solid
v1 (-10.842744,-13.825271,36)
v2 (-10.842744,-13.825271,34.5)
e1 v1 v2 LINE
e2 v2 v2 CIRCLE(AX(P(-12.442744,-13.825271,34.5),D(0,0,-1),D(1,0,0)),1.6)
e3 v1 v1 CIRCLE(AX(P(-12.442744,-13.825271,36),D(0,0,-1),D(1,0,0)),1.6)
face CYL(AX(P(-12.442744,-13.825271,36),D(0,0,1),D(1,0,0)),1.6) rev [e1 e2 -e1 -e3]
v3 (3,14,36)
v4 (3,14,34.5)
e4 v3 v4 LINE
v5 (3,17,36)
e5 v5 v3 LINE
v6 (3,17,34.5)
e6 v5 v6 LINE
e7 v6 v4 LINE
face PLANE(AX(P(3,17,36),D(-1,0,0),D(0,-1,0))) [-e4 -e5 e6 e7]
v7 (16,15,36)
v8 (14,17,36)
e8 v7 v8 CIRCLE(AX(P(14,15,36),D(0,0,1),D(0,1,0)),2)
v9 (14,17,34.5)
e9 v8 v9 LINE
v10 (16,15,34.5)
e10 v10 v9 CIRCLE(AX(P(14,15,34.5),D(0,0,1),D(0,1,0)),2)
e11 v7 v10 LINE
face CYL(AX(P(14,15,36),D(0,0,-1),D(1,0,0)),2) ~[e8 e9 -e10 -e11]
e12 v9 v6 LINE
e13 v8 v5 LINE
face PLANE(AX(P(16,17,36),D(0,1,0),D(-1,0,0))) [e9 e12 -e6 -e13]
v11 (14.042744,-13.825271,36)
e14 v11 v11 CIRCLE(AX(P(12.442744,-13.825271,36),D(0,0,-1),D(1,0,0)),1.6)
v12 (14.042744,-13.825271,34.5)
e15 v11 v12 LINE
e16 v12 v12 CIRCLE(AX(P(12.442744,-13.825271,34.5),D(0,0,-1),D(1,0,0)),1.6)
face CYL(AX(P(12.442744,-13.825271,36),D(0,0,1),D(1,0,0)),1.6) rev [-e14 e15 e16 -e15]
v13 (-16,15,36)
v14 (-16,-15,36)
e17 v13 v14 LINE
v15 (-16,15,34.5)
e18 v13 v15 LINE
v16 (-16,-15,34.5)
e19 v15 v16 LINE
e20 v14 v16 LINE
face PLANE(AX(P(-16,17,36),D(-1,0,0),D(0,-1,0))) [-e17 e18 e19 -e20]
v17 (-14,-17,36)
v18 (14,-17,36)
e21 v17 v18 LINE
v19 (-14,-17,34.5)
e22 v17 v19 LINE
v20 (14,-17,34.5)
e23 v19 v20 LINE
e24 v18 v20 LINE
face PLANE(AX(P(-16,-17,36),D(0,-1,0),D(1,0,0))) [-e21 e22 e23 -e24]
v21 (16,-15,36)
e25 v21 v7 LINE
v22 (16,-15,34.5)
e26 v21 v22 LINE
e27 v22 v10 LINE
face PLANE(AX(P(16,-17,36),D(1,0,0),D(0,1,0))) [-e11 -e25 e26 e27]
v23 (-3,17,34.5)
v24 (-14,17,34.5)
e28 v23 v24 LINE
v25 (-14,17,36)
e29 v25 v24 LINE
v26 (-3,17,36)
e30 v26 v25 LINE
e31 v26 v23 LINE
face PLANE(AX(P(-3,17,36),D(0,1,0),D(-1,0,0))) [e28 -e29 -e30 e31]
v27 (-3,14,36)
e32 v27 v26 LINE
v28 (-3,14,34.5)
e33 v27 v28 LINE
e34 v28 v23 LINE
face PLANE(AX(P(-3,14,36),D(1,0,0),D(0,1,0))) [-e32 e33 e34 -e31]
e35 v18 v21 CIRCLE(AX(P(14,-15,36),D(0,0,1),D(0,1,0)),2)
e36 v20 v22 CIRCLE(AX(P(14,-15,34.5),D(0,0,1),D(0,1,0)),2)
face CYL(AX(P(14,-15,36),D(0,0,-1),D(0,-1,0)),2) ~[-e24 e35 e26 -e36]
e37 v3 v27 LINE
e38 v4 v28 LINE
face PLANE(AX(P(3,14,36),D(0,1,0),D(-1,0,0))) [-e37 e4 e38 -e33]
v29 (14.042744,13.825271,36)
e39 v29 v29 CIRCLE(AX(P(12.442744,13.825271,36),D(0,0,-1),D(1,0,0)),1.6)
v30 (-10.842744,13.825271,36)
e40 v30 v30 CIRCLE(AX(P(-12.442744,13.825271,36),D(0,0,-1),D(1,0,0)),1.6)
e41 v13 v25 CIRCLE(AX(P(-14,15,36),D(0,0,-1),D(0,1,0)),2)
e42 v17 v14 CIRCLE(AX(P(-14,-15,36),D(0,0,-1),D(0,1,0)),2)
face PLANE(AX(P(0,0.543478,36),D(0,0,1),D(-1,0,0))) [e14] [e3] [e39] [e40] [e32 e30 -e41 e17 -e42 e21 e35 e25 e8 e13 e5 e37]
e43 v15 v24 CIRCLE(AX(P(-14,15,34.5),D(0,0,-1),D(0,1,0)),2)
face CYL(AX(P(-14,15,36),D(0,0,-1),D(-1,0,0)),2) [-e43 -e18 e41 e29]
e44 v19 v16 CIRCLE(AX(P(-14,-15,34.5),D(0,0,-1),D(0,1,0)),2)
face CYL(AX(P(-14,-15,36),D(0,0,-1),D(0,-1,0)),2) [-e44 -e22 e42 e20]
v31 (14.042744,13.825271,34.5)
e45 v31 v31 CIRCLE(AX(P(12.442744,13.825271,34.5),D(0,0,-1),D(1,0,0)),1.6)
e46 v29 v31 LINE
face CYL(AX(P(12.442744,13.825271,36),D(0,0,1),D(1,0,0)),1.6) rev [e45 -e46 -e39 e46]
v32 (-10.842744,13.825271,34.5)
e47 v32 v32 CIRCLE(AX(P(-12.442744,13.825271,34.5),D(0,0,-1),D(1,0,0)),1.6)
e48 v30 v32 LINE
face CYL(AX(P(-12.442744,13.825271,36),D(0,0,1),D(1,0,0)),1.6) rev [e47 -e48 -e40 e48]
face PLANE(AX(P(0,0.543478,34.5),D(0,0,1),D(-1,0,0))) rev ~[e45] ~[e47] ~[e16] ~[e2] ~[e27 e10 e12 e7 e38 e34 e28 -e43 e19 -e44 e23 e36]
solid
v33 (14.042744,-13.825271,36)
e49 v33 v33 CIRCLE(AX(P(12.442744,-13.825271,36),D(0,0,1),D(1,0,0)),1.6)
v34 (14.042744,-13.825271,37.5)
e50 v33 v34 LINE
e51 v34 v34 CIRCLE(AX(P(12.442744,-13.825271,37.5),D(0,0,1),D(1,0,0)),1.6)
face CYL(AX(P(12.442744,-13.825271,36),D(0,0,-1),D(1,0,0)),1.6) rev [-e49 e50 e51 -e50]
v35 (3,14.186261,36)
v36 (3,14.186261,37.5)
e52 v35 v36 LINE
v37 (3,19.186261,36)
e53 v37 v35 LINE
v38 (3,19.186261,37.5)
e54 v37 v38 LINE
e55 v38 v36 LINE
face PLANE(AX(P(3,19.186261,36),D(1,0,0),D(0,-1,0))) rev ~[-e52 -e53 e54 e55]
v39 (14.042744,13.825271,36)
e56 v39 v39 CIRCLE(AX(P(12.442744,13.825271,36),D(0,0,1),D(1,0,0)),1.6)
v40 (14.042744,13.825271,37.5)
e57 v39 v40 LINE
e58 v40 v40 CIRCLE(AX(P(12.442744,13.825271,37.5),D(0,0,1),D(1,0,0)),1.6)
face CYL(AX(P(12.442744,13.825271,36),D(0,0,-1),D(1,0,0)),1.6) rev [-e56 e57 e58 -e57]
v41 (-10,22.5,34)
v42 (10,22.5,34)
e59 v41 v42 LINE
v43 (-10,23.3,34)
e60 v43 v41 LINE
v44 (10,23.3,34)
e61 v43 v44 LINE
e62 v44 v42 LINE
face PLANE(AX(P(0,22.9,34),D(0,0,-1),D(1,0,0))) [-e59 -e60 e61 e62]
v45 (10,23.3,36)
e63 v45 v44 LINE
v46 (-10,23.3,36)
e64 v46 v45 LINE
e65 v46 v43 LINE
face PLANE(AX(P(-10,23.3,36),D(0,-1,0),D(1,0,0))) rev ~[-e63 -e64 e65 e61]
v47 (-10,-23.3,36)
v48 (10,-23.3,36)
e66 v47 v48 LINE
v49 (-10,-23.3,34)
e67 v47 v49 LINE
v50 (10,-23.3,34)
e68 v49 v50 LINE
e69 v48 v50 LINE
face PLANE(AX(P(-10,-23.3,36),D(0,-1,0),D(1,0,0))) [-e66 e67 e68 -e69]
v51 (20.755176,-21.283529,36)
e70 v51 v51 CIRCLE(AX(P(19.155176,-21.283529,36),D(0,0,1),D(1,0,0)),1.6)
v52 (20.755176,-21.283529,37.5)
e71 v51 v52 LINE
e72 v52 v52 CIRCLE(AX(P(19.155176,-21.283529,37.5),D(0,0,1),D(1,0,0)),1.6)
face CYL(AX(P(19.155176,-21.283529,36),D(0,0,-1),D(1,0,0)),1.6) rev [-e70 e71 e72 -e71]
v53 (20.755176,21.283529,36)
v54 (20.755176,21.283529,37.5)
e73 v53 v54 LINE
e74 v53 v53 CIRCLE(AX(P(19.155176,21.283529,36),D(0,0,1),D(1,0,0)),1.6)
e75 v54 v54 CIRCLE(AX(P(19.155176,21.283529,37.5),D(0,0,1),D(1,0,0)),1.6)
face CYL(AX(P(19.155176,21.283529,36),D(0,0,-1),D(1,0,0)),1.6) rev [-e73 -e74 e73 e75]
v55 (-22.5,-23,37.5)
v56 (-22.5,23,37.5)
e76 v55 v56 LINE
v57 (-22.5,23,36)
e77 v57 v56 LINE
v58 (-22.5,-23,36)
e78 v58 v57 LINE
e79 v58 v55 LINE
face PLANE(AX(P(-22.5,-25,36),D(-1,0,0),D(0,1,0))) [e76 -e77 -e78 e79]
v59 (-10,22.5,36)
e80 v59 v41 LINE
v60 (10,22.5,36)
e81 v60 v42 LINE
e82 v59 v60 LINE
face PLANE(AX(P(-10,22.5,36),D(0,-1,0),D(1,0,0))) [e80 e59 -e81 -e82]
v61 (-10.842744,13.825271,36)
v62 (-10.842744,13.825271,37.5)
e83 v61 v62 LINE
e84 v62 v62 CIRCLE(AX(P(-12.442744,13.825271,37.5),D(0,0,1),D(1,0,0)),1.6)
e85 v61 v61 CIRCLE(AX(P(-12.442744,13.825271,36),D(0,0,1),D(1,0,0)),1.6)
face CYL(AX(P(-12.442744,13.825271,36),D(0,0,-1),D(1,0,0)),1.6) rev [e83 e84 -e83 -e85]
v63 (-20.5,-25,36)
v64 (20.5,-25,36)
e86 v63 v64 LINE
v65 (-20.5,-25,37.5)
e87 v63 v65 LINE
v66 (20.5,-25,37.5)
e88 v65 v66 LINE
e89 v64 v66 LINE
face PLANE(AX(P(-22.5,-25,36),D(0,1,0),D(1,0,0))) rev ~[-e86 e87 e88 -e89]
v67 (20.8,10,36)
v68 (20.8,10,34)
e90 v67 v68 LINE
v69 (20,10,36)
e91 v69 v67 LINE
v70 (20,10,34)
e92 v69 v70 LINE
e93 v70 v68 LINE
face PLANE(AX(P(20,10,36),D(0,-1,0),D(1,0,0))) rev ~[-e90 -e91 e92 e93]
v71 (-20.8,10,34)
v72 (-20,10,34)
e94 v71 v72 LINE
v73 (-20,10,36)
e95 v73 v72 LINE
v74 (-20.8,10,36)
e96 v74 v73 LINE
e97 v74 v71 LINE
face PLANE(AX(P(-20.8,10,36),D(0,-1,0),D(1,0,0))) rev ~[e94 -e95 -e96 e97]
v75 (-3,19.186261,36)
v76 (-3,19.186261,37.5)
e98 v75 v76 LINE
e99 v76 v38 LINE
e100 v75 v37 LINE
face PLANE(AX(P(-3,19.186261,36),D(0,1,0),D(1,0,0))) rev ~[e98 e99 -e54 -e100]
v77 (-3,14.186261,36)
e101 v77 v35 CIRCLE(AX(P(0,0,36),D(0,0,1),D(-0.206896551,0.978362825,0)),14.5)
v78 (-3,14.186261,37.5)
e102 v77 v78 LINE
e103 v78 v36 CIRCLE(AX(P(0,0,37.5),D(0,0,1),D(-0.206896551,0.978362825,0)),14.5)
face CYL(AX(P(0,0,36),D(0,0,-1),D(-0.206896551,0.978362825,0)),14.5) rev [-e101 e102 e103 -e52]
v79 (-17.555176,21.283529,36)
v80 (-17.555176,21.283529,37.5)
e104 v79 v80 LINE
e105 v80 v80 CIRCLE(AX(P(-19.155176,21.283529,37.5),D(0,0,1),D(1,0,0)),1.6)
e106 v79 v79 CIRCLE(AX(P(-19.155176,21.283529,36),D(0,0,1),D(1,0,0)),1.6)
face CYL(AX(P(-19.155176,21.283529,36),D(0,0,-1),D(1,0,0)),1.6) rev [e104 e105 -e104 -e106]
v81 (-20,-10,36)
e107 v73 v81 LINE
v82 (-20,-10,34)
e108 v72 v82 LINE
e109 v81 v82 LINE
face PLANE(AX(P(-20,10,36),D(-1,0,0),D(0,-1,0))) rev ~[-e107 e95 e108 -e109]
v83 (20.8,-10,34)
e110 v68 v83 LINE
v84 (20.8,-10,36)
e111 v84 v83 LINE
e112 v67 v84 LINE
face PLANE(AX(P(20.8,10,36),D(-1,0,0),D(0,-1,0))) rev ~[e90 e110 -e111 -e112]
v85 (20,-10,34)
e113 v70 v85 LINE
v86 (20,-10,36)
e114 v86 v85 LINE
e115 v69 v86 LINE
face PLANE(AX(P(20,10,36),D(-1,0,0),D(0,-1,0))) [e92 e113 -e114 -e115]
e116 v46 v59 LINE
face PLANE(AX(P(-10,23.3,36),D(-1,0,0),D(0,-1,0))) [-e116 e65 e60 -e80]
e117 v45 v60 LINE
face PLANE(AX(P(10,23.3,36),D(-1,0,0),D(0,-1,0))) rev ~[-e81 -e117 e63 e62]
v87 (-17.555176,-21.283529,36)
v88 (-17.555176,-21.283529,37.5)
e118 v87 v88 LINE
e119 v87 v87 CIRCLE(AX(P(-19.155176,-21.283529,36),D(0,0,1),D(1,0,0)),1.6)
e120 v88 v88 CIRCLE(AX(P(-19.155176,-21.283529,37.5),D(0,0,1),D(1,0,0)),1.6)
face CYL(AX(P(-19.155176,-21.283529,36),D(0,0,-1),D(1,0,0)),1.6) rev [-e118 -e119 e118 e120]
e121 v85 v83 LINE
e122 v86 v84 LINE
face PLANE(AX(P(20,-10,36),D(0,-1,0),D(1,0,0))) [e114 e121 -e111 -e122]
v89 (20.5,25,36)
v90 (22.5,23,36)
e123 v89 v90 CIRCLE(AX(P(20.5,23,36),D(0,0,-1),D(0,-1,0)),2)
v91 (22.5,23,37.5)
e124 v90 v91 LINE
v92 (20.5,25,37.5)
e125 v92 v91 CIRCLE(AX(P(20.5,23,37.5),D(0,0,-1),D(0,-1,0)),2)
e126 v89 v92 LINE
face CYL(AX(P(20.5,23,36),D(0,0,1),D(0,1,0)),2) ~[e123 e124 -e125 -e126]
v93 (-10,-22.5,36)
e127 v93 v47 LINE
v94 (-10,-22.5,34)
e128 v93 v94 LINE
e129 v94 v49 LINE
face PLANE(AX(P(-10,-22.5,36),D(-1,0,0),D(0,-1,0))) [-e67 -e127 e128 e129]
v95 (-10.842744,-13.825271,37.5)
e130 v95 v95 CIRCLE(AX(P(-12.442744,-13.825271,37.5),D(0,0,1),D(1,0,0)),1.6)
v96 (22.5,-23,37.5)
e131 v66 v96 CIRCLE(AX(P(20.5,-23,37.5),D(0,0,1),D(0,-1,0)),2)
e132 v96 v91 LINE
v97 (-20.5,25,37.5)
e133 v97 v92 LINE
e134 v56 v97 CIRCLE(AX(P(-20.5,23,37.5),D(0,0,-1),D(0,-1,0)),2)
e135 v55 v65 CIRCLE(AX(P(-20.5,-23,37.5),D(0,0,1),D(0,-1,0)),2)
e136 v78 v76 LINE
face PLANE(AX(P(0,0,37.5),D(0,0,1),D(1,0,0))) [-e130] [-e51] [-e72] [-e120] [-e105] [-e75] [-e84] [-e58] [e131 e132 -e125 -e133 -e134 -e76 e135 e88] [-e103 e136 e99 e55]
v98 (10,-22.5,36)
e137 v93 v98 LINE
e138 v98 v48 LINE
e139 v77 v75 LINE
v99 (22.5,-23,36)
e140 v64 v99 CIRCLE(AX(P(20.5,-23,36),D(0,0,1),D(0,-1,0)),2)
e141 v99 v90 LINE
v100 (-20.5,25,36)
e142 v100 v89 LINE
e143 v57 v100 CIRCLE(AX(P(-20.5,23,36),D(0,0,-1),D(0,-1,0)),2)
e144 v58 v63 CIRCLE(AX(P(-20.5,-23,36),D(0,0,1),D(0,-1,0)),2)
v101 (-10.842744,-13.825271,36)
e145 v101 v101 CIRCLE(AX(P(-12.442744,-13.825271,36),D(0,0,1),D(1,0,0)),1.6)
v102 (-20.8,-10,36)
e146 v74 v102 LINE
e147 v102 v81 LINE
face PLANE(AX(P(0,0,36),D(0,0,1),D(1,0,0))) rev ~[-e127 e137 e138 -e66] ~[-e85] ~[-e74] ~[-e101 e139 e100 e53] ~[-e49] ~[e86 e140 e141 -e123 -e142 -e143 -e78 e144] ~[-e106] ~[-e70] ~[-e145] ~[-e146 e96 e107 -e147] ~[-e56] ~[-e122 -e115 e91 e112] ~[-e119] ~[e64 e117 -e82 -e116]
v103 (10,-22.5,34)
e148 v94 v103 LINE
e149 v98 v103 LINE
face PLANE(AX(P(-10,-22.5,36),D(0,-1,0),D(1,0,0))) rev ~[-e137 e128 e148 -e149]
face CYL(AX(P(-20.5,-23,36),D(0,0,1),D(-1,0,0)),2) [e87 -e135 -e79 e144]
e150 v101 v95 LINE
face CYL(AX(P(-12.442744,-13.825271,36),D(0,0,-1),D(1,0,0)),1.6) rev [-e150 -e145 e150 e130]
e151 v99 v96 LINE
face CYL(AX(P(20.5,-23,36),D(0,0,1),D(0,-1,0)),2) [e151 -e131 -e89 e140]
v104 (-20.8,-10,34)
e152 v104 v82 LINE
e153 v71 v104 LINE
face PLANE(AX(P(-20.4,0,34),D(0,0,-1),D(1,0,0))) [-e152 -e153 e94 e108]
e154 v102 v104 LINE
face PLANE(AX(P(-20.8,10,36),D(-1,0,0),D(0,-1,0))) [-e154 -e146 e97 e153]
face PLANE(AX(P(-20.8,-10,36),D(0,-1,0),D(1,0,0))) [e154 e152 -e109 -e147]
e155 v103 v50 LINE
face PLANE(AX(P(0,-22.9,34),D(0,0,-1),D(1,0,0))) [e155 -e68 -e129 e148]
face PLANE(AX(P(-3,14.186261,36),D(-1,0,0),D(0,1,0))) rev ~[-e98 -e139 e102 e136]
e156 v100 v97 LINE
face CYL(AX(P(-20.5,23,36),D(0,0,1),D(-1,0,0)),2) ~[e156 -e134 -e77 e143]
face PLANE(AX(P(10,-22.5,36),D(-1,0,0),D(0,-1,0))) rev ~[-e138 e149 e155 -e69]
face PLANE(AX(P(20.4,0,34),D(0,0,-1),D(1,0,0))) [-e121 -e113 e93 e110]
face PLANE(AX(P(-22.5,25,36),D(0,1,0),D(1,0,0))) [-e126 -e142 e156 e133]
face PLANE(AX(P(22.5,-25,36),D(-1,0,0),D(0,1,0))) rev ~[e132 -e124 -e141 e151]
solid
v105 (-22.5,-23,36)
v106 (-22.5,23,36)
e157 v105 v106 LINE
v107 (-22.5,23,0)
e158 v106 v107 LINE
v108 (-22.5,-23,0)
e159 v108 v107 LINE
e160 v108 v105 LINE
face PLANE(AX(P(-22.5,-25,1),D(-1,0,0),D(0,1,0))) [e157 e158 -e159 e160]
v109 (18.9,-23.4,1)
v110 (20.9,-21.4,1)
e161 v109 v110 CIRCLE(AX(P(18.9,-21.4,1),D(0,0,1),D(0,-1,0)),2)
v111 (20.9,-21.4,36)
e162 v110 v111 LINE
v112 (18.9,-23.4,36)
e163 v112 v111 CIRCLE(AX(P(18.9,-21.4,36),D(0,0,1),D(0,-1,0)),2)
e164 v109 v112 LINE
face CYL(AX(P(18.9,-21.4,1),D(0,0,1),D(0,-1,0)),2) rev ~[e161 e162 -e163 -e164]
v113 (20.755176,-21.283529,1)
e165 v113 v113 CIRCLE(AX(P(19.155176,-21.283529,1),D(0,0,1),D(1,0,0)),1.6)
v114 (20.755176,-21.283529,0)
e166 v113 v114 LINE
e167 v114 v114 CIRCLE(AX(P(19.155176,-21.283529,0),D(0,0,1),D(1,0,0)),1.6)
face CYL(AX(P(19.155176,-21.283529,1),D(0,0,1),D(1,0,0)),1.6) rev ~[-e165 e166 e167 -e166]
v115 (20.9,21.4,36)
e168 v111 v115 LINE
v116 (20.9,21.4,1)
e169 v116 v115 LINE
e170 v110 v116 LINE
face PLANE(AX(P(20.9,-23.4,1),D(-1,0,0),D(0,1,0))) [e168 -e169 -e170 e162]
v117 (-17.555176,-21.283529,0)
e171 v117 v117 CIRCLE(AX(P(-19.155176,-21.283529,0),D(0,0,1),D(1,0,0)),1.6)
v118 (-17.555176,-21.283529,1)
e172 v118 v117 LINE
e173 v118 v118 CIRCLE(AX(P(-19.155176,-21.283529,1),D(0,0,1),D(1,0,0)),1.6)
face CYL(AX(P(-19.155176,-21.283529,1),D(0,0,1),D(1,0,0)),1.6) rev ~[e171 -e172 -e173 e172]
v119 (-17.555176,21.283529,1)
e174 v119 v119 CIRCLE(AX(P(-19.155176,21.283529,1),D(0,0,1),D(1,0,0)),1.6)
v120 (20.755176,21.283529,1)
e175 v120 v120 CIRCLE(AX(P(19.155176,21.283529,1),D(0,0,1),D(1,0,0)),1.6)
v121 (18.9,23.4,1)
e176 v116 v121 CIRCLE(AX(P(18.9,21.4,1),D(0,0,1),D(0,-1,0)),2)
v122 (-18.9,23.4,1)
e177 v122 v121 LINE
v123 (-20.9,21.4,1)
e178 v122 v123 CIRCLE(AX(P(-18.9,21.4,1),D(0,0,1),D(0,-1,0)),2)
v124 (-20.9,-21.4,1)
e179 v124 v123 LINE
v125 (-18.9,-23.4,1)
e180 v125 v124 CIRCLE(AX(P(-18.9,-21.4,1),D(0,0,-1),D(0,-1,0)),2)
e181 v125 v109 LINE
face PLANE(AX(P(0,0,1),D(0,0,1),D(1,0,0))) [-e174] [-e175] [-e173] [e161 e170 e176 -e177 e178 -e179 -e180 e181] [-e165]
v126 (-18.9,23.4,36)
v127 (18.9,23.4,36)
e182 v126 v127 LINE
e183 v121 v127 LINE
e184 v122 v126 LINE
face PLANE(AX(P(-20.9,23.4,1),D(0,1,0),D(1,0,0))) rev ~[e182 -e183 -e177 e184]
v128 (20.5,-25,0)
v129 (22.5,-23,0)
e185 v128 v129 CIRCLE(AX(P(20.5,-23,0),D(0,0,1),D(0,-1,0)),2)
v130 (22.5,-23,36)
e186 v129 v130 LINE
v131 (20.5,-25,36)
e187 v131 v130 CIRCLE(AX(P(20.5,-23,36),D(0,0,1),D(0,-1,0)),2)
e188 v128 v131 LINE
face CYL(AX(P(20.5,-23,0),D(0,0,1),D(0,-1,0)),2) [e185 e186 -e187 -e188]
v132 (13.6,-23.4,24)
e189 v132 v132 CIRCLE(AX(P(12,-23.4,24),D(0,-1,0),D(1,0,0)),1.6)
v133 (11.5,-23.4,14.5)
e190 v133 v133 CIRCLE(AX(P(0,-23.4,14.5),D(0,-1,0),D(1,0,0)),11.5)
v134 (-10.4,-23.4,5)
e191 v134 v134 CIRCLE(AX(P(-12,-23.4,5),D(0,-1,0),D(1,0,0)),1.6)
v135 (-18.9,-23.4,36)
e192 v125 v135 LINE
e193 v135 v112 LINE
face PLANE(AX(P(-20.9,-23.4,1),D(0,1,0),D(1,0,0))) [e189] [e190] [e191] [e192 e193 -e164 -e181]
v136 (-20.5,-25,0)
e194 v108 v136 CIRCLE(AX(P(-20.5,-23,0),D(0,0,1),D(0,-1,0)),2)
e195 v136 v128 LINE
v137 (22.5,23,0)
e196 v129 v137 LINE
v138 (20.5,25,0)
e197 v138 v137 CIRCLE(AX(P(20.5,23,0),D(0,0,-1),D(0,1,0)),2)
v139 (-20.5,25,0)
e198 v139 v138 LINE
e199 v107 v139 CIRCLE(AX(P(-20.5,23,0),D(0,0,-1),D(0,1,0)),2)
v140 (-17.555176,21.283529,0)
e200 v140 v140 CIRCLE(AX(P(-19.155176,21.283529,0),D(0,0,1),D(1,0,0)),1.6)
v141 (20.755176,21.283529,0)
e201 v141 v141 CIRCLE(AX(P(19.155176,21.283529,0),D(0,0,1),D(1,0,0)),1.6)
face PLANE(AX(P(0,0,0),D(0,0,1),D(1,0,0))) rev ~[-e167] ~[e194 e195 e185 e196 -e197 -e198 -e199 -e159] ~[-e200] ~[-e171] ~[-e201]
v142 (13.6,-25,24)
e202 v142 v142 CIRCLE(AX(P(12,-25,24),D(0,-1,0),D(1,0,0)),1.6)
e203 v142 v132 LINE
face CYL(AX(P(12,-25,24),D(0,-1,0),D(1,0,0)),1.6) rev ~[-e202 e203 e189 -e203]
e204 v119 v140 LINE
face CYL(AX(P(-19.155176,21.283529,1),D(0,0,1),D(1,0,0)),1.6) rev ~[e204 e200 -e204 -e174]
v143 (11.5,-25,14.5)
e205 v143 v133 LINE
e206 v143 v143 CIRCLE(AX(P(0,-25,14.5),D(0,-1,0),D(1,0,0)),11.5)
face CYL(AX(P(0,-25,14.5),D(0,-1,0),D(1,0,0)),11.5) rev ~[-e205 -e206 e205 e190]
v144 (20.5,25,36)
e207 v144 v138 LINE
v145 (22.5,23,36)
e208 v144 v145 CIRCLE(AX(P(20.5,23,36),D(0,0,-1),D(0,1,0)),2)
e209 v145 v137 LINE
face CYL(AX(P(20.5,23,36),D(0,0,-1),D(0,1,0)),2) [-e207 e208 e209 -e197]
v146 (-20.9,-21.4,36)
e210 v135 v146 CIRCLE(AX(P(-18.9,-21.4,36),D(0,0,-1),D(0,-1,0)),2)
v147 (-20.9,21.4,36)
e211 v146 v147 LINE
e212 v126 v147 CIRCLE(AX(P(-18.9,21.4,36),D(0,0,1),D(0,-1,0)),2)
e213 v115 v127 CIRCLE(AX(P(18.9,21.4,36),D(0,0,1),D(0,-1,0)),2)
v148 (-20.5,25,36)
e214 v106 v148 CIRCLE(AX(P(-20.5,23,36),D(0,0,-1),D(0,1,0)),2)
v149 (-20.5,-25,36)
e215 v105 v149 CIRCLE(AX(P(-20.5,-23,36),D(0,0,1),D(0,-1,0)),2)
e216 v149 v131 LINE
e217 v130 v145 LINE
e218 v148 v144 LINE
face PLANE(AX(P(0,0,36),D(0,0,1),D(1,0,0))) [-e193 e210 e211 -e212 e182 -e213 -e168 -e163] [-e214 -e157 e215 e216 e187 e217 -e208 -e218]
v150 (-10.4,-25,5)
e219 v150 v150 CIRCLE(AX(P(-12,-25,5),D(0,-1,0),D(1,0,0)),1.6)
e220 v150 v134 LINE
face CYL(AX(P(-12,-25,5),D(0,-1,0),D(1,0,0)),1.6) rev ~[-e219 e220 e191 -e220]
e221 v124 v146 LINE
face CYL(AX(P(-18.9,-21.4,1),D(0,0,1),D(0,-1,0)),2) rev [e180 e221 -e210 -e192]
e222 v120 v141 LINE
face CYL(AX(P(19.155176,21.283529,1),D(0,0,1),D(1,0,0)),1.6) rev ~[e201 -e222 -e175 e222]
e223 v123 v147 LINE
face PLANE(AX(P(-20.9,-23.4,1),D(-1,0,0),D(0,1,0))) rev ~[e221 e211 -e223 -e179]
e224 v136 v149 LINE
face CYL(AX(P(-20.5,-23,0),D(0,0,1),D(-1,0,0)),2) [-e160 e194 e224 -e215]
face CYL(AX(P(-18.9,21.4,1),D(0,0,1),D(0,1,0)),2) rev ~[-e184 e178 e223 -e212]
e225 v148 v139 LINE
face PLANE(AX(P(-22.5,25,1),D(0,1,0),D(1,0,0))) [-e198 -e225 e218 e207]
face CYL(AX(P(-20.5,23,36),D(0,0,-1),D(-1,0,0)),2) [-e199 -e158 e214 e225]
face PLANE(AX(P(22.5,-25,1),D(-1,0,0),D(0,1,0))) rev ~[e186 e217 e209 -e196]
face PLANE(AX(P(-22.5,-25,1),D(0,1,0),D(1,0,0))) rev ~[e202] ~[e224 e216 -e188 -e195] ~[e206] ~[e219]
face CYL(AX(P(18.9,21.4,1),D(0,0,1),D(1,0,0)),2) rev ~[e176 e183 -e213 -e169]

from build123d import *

# Parameters (mm, degrees)
SKETCH_W        = 45
SKETCH_H        = 50
PAD_DEPTH       = 1
SKETCH001_W     = 45
SKETCH001_H     = 50
SKETCH001_W_2   = 41.8
SKETCH001_H_2   = 46.8
PAD001_DEPTH    = 35
SKETCH002_R     = 11.5
SKETCH002_R_2   = 1.6
POCKET_DEPTH    = 5
SKETCH003_R     = 1.6
POCKET001_DEPTH = 5
FILLET_R        = 2
SKETCH004_W     = 45
SKETCH004_H     = 50
SKETCH004_R     = 1.6
PAD002_DEPTH    = 1.5
FILLET001_R     = 2
SKETCH007_W     = 20
SKETCH007_H     = 0.8
SKETCH007_W_2   = 0.8
SKETCH007_H_2   = 20
PAD004_DEPTH    = 2
SKETCH006_R     = 1.6
PAD003_DEPTH    = 1.5
FILLET002_R     = 2


with BuildPart() as body:
    # Sketch → Pad (new body)
    with BuildSketch(Plane.XY):
        Rectangle(SKETCH_W, SKETCH_H)
    extrude(amount=PAD_DEPTH)

    # Sketch001 (on Face6 of Pad) → Pad001 (join)
    with BuildSketch(Plane.XY.offset(1)):
        Rectangle(SKETCH001_W, SKETCH001_H)
        Rectangle(SKETCH001_W_2, SKETCH001_H_2, mode=Mode.SUBTRACT)
    extrude(amount=PAD001_DEPTH)

    # Sketch002 (on Face10 of Pad001) → Pocket (cut)
    with BuildSketch(Plane.XZ.offset(25)):
        with Locations((0, 14.5)):
            Circle(SKETCH002_R)
        with Locations((12, 24)):
            Circle(SKETCH002_R_2)
        with Locations((-12, 5)):
            Circle(SKETCH002_R_2)
    extrude(amount=-POCKET_DEPTH, mode=Mode.SUBTRACT)

    # Sketch003 (on Face18 of Pocket) → Pocket001 (cut)
    with BuildSketch(Plane.XY.offset(1)):
        with Locations((-19.155176, 21.283529)):
            Circle(SKETCH003_R)
        with Locations((19.155176, 21.283529)):
            Circle(SKETCH003_R)
        with Locations((-19.155176, -21.283529)):
            Circle(SKETCH003_R)
        with Locations((19.155176, -21.283529)):
            Circle(SKETCH003_R)
    extrude(amount=-POCKET001_DEPTH, mode=Mode.SUBTRACT)

    # Fillet
    fillet_edges = [body.edges().sort_by_distance(p)[0] for p in [
        (22.5, 25, 18.5),
        (22.5, -25, 18.5),
        (-22.5, 25, 18.5),
        (-22.5, -25, 18.5),
        (20.9, -23.4, 18.5),
        (20.9, 23.4, 18.5),
        (-20.9, -23.4, 18.5),
        (-20.9, 23.4, 18.5),
    ]]
    fillet(fillet_edges, radius=FILLET_R)


with BuildPart() as lid:
    # Sketch004 (on Face1 of CopyPocket001) → Pad002 (new body)
    with BuildSketch(Plane.XY.offset(36)):
        Rectangle(SKETCH004_W, SKETCH004_H)
        with Locations((-19.155176, 21.283529)):
            Circle(SKETCH004_R, mode=Mode.SUBTRACT)
        with Locations((19.155176, 21.283529)):
            Circle(SKETCH004_R, mode=Mode.SUBTRACT)
        with Locations((19.155176, -21.283529)):
            Circle(SKETCH004_R, mode=Mode.SUBTRACT)
        with Locations((-19.155176, -21.283529)):
            Circle(SKETCH004_R, mode=Mode.SUBTRACT)
        with Locations((12.442744, 13.825271)):
            Circle(SKETCH004_R, mode=Mode.SUBTRACT)
        with Locations((-12.442744, 13.825271)):
            Circle(SKETCH004_R, mode=Mode.SUBTRACT)
        with Locations((-12.442744, -13.825271)):
            Circle(SKETCH004_R, mode=Mode.SUBTRACT)
        with Locations((12.442744, -13.825271)):
            Circle(SKETCH004_R, mode=Mode.SUBTRACT)
        with BuildLine():
            ThreePointArc((-3, 14.186261), (0, -14.5), (3, 14.186261))
            Line((3, 19.186261), (3, 14.186261))
            Line((-3, 19.186261), (3, 19.186261))
            Line((-3, 14.186261), (-3, 19.186261))
        make_face(mode=Mode.SUBTRACT)
    extrude(amount=PAD002_DEPTH)

    # Fillet001
    fillet001_edges = [lid.edges().sort_by_distance(p)[0] for p in [
        (-22.5, 25, 36.75),
        (22.5, 25, 36.75),
        (22.5, -25, 36.75),
        (-22.5, -25, 36.75),
    ]]
    fillet(fillet001_edges, radius=FILLET001_R)

    # Sketch007 (on Face2 of Fillet001) → Pad004 (join)
    with BuildSketch(Plane(origin=(0, 0, 36), x_dir=(1, 0, 0), z_dir=(0, 0, -1))):
        with Locations((0, 22.9)):
            Rectangle(SKETCH007_W, SKETCH007_H)
        with Locations((20.4, 0)):
            Rectangle(SKETCH007_W_2, SKETCH007_H_2)
        with Locations((0, -22.9)):
            Rectangle(SKETCH007_W, SKETCH007_H)
        with Locations((-20.4, 0)):
            Rectangle(SKETCH007_W_2, SKETCH007_H_2)
    extrude(amount=PAD004_DEPTH)


with BuildPart() as socketholder:
    # Sketch006 (on Face1 of CopyPad003) → Pad003 (new body)
    with BuildSketch(Plane(origin=(0, 0, 36), x_dir=(1, 0, 0), z_dir=(0, 0, -1))):
        Polygon((-16, 17), (16, 17), (16, -17), (3, -17), (3, -14), (-3, -14), (-3, -17), (-16, -17), align=None)
        with Locations((-12.442744, 13.825271)):
            Circle(SKETCH006_R, mode=Mode.SUBTRACT)
        with Locations((12.442744, 13.825271)):
            Circle(SKETCH006_R, mode=Mode.SUBTRACT)
        with Locations((-12.442744, -13.825271)):
            Circle(SKETCH006_R, mode=Mode.SUBTRACT)
        with Locations((12.442744, -13.825271)):
            Circle(SKETCH006_R, mode=Mode.SUBTRACT)
    extrude(amount=PAD003_DEPTH)

    # Fillet002
    fillet002_edges = [socketholder.edges().sort_by_distance(p)[0] for p in [
        (-16, 17, 35.25),
        (-16, -17, 35.25),
        (16, 17, 35.25),
        (16, -17, 35.25),
    ]]
    fillet(fillet002_edges, radius=FILLET002_R)


solid = Compound([body.part, lid.part, socketholder.part])
